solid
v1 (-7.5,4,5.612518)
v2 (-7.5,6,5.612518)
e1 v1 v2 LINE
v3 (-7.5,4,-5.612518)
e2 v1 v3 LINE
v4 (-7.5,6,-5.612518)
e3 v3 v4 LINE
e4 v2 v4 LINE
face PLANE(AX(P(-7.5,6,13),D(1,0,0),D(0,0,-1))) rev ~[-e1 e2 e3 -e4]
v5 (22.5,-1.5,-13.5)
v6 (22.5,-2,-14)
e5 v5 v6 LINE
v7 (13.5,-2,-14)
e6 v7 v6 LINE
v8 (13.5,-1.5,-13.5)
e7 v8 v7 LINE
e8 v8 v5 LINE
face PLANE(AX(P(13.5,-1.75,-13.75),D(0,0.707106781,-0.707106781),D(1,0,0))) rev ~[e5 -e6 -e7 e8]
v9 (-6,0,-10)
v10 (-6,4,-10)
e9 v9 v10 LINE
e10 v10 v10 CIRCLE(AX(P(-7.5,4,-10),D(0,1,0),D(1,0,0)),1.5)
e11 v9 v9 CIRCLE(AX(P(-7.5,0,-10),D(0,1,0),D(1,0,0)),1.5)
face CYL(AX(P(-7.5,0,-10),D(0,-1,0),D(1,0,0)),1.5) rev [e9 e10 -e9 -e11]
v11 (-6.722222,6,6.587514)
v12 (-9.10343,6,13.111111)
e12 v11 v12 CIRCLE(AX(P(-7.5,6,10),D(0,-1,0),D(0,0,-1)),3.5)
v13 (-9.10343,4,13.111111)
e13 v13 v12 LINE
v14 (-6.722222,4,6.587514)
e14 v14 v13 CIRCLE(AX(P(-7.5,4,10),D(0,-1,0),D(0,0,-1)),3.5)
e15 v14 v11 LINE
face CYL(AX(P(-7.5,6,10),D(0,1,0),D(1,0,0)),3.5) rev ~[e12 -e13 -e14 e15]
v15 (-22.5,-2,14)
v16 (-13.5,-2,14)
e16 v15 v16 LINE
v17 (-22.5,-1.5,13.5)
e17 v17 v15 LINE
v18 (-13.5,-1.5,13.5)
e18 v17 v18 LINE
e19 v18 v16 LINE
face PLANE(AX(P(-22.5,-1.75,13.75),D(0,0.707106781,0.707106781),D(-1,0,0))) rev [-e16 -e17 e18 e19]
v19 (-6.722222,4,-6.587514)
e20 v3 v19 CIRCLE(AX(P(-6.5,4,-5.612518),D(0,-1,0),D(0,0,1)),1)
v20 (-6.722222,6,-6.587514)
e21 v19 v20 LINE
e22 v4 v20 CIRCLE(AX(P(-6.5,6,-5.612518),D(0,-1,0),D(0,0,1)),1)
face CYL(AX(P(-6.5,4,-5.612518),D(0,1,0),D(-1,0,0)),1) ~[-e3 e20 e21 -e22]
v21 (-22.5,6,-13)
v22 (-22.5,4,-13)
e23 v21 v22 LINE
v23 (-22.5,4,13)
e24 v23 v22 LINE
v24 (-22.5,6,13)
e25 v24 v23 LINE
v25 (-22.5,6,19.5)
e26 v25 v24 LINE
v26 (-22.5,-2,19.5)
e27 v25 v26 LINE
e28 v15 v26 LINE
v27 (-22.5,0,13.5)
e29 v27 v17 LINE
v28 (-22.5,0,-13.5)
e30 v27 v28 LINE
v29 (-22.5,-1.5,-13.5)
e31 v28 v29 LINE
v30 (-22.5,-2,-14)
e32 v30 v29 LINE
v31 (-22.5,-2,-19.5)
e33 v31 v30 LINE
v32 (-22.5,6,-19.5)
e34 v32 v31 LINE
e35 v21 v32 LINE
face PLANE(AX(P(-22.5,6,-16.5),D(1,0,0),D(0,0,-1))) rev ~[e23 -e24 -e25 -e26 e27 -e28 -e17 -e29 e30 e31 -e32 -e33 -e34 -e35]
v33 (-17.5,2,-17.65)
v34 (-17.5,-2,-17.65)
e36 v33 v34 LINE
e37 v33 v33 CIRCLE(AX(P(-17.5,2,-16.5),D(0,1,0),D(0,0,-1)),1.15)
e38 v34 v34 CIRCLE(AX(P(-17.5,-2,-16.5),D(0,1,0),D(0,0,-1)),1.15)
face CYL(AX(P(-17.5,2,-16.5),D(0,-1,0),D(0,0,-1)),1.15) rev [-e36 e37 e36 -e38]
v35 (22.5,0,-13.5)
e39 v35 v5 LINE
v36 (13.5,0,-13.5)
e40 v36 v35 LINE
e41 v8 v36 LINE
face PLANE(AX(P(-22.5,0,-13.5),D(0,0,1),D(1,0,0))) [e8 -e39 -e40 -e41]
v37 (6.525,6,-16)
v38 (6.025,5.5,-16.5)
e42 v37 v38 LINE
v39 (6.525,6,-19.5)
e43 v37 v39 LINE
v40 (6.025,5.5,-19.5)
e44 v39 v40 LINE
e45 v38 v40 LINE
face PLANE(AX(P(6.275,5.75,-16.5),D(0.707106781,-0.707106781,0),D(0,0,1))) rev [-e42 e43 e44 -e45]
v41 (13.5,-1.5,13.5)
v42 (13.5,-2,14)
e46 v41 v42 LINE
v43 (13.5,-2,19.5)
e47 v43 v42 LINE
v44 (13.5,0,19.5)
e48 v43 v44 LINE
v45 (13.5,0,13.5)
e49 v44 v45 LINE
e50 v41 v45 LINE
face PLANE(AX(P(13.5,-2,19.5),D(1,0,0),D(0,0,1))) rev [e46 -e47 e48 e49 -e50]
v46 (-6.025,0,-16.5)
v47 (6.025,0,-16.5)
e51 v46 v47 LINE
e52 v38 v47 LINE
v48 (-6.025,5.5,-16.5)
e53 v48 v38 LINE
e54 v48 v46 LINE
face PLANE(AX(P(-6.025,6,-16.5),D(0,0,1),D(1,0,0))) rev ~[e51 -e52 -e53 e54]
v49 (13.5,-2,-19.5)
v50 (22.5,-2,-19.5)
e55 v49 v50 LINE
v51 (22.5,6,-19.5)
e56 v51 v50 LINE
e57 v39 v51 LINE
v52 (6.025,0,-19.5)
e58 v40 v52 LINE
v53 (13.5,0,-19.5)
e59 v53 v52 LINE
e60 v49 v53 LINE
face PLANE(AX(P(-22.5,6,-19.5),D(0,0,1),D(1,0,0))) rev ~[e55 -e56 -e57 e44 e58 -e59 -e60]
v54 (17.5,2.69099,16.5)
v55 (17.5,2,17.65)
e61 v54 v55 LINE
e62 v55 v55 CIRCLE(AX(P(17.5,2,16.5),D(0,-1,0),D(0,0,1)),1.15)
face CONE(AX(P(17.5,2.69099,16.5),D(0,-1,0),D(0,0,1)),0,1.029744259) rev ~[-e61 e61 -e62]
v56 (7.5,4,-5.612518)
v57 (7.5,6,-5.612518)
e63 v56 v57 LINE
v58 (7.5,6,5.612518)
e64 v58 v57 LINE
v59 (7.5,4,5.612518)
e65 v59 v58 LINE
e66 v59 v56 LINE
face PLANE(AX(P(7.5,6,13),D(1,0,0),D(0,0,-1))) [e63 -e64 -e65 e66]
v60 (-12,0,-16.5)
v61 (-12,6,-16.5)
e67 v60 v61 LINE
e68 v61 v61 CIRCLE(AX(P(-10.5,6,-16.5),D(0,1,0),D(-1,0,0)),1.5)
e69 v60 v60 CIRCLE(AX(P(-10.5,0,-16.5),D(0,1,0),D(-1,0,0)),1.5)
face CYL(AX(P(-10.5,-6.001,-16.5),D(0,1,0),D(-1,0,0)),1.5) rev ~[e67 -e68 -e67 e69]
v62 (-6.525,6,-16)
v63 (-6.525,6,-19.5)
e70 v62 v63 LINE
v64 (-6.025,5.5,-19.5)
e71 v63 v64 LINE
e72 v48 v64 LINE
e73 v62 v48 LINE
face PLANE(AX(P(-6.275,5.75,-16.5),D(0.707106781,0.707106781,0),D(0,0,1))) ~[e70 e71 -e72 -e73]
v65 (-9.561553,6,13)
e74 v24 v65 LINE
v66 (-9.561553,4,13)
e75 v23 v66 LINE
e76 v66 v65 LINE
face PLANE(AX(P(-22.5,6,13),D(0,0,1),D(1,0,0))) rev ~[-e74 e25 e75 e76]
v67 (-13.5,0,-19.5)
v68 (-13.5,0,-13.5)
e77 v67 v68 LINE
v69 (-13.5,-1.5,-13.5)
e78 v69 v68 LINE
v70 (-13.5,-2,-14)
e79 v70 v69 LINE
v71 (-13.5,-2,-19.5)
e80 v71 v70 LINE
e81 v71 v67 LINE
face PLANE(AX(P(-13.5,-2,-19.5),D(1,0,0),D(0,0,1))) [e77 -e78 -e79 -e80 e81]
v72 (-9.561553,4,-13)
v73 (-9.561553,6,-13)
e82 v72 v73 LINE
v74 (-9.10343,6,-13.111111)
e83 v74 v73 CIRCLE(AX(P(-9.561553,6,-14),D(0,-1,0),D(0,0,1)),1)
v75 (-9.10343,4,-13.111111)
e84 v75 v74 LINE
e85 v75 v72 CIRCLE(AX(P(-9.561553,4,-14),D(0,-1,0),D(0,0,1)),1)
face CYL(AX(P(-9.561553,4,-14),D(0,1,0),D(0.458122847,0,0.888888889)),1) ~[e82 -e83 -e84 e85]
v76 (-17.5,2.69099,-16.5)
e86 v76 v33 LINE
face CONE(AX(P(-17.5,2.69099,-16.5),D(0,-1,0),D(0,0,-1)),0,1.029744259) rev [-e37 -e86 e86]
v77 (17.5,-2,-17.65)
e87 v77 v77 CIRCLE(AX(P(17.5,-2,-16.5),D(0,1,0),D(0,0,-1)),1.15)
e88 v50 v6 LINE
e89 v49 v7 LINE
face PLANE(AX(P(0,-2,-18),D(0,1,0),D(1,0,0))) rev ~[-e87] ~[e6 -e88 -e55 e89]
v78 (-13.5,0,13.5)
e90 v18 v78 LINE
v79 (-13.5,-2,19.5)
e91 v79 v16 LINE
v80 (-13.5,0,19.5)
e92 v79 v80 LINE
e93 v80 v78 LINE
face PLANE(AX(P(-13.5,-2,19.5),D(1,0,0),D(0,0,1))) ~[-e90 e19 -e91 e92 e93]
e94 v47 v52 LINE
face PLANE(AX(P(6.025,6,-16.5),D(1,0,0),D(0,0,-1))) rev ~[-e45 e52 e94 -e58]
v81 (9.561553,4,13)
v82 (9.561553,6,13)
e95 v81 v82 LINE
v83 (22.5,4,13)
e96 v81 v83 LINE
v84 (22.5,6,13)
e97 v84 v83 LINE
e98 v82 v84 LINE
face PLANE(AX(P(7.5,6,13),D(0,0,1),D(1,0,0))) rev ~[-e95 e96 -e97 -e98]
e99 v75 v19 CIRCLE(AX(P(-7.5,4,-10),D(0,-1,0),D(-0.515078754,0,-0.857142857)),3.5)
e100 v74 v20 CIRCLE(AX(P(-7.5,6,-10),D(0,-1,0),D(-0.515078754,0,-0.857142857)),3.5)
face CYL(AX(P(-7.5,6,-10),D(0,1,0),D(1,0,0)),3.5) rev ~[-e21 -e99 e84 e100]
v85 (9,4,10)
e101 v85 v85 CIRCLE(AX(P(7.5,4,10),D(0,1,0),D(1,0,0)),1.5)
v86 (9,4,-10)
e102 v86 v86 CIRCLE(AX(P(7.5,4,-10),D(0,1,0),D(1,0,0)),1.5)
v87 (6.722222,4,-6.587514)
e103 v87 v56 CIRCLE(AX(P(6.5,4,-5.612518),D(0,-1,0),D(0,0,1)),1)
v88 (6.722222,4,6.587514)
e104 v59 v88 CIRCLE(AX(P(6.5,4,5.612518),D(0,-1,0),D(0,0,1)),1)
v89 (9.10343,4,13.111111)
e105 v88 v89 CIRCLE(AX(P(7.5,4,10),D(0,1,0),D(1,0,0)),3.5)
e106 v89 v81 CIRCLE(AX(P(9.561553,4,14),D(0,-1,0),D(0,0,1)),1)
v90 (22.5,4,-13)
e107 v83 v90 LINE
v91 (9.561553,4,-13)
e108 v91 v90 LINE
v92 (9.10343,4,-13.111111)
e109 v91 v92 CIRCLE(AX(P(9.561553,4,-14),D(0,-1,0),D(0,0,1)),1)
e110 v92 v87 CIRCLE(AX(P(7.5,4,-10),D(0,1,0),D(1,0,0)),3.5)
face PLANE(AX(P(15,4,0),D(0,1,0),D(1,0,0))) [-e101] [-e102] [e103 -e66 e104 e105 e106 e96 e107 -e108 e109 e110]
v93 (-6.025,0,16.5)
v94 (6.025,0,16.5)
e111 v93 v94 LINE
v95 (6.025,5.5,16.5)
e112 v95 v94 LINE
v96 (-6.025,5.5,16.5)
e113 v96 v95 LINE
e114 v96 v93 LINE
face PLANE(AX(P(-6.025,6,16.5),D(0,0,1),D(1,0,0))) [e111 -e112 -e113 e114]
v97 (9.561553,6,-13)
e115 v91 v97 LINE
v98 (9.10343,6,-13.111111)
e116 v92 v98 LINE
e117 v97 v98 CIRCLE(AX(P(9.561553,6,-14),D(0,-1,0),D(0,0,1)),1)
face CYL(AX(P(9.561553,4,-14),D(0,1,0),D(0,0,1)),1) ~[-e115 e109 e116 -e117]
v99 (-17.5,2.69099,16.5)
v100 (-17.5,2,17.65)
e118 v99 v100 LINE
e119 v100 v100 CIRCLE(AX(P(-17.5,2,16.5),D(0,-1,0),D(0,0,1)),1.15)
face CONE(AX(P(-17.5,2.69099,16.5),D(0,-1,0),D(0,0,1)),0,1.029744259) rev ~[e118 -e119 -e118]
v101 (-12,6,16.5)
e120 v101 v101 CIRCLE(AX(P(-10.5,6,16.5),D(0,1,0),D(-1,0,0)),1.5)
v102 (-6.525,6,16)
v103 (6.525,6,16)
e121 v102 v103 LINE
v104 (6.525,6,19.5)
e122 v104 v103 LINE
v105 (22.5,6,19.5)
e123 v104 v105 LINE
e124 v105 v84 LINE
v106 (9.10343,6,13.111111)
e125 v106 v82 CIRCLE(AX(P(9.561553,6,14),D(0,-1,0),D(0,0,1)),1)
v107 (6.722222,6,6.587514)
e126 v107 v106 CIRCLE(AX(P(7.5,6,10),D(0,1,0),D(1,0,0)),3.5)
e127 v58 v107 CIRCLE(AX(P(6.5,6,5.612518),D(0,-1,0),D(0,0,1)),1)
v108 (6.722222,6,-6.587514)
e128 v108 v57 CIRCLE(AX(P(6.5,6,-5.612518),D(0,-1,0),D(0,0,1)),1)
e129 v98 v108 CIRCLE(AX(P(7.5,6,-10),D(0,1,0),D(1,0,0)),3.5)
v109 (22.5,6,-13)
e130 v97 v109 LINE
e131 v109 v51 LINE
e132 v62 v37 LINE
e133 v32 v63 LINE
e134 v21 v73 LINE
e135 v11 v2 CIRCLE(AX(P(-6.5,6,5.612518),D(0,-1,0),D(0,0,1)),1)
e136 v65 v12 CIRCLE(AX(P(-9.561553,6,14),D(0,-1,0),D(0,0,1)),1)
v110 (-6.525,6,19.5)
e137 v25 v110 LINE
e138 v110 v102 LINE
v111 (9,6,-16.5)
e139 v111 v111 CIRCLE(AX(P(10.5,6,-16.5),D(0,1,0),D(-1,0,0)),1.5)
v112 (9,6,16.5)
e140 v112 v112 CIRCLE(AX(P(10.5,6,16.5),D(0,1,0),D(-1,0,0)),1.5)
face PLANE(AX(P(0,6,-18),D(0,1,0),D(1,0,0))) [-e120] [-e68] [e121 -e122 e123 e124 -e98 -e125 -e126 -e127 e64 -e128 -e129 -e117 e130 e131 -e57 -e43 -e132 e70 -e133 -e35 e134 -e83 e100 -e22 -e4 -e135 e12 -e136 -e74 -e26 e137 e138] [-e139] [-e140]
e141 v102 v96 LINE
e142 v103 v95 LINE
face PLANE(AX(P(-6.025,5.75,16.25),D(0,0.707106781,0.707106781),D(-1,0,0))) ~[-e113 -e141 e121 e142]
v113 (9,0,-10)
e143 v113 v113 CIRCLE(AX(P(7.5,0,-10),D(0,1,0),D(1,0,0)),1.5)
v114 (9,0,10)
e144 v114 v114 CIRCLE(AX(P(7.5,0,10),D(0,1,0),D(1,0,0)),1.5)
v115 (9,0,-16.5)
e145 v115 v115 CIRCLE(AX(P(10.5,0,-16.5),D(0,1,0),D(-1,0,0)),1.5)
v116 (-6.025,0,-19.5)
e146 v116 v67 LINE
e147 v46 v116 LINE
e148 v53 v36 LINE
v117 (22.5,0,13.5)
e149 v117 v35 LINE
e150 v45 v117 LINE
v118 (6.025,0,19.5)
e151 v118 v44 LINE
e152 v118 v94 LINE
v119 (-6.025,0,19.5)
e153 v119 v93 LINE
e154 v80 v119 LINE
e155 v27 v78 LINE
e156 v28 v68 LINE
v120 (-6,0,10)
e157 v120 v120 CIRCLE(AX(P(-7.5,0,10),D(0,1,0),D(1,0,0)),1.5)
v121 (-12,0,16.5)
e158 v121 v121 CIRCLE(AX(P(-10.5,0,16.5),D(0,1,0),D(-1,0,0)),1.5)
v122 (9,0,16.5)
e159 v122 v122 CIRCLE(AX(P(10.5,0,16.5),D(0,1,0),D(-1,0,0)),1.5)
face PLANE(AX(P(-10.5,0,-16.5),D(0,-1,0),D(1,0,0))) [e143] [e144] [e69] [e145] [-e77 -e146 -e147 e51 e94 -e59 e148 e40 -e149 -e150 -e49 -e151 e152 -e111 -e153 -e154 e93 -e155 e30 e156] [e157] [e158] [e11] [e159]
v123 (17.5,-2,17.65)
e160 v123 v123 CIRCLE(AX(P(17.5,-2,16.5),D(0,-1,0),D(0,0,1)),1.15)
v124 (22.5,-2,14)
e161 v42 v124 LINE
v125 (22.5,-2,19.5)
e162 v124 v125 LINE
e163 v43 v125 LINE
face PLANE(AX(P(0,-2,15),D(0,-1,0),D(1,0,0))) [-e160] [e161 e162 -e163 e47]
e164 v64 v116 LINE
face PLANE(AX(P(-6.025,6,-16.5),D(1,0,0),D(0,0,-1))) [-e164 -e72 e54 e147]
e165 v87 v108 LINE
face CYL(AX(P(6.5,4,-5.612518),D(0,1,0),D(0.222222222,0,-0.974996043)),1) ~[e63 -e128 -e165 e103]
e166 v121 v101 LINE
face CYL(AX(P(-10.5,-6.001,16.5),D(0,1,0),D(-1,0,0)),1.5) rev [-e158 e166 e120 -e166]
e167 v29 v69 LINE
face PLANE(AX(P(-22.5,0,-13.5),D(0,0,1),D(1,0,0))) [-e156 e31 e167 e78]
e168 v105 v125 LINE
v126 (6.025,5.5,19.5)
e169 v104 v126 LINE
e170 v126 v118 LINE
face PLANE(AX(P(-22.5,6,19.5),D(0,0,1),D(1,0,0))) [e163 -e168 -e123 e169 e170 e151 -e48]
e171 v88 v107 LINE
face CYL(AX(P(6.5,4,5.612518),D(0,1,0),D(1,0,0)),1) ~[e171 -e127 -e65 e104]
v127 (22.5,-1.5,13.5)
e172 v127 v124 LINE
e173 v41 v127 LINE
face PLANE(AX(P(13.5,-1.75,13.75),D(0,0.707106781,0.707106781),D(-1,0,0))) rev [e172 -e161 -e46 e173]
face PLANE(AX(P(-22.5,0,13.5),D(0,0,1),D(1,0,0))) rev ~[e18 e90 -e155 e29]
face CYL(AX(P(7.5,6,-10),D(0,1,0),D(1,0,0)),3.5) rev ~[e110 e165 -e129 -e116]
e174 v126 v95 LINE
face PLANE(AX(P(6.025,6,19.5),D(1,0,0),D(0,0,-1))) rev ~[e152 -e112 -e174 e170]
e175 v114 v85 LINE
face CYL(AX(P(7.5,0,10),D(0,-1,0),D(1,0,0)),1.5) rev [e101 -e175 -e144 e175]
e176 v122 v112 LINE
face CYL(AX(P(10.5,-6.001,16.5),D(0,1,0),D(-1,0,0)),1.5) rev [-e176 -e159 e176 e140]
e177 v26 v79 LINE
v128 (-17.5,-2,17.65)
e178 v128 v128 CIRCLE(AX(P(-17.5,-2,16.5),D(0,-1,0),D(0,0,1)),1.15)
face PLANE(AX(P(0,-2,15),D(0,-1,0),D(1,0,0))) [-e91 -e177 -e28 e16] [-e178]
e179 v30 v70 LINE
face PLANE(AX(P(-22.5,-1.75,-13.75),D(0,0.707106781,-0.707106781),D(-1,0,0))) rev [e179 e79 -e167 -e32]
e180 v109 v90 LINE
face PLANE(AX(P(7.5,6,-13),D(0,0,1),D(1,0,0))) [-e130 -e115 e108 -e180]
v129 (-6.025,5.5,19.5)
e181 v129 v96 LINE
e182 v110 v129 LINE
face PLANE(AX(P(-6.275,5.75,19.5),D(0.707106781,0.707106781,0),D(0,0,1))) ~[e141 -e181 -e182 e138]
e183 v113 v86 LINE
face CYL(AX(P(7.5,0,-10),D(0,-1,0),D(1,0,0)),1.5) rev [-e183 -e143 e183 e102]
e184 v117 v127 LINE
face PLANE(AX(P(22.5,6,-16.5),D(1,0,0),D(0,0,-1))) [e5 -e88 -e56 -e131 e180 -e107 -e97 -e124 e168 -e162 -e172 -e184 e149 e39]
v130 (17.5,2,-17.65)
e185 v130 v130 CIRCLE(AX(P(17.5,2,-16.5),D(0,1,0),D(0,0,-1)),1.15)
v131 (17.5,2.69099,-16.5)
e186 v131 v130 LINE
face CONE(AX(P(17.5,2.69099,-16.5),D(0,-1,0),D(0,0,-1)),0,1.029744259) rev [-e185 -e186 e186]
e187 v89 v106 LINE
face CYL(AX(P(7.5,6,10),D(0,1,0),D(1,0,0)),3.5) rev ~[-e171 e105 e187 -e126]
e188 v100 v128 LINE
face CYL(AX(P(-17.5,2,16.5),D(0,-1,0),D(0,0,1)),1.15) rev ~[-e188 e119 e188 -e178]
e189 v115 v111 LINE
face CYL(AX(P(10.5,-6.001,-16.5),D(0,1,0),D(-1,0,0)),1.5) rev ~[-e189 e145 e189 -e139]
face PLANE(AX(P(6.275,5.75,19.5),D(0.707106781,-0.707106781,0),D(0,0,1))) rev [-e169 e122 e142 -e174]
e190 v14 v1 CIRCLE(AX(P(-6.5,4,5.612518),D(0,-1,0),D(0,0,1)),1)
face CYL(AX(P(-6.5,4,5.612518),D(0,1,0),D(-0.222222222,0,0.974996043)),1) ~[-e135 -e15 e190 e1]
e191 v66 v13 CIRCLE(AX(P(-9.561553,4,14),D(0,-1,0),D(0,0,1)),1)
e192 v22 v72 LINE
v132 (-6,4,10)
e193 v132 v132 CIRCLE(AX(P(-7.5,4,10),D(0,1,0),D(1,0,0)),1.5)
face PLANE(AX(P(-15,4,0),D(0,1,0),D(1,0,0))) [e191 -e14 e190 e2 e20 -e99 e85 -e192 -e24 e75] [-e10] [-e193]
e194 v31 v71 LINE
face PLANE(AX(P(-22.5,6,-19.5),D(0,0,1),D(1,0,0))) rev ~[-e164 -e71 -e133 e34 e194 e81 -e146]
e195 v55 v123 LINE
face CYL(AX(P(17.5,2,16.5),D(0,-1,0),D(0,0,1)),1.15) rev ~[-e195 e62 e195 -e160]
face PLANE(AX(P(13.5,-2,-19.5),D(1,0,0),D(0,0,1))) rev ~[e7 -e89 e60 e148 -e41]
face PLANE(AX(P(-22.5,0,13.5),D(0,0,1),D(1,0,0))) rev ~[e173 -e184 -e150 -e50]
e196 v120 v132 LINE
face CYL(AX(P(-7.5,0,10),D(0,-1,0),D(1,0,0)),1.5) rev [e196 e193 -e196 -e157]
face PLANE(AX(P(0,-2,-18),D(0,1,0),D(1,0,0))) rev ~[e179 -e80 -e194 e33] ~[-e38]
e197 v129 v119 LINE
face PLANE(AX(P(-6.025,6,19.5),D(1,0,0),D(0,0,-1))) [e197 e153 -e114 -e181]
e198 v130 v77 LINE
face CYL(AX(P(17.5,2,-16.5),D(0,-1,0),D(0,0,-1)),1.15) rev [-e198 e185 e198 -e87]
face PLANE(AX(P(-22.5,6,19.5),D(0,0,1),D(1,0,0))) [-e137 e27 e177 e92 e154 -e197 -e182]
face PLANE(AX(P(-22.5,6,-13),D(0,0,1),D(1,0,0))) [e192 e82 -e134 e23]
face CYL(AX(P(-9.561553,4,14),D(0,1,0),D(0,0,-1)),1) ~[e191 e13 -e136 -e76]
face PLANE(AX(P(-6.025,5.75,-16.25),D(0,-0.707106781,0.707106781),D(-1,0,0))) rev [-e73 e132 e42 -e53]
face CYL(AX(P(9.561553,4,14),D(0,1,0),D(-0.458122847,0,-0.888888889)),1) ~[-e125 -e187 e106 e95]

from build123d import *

# Parameters (mm, degrees)
SKETCH_2_W                = 45
SKETCH_2_H                = 33
SKETCH_2_R                = 1.5
EXTRUDE_1_DEPTH           = 6
SKETCH_3_W                = 45
SKETCH_3_H                = 3
EXTRUDE_2_DEPTH           = 2
SKETCH_4_R                = 3.5
CUT_EXTRUDE_1_DEPTH       = 2
SKETCH_11_W               = 45
SKETCH_11_H               = 3
EXTRUDE_4_DEPTH           = 8
CUT_EXTRUDE_2_REACH       = 10
SKETCH_9_W                = 12.05
SKETCH_9_H                = 3
CHAMFER_1_SIZE            = 0.5
SKETCH_19_W               = 6
SKETCH_19_H               = 6
CUT_EXTRUDE_4_DEPTH       = 2
HOLE_WIZARD_3_0_3_1_D     = 3
HOLE_WIZARD_3_0_3_1_DEPTH = 6.001
CHAMFER_2_SIZE            = 0.5
SKETCH_20_W               = 15
SKETCH_20_H               = 26
CUT_EXTRUDE_5_DEPTH       = 2
FILLET_1_R                = 1
SKETCH_22_W               = 15
SKETCH_22_H               = 6
CUT_EXTRUDE_6_DEPTH       = 2


with BuildPart() as part:
    # 草图2 → 凸台-拉伸1 (new body)
    with BuildSketch(Plane(origin=(0, 0, 0), x_dir=(1, 0, 0), z_dir=(0, 1, 0))):
        Rectangle(SKETCH_2_W, SKETCH_2_H)
        with Locations((-7.5, 10)):
            Circle(SKETCH_2_R, mode=Mode.SUBTRACT)
        with Locations((7.5, 10)):
            Circle(SKETCH_2_R, mode=Mode.SUBTRACT)
        with Locations((-7.5, -10)):
            Circle(SKETCH_2_R, mode=Mode.SUBTRACT)
        with Locations((7.5, -10)):
            Circle(SKETCH_2_R, mode=Mode.SUBTRACT)
    extrude(amount=EXTRUDE_1_DEPTH)

    # 草图3 → 凸台-拉伸2 (add)
    with BuildSketch(Plane.XZ):
        with Locations((0, -15)):
            Rectangle(SKETCH_3_W, SKETCH_3_H)
        with Locations((0, 15)):
            Rectangle(SKETCH_3_W, SKETCH_3_H)
    extrude(amount=EXTRUDE_2_DEPTH)

    # 草图4 → 切除-拉伸1 (cut)
    with BuildSketch(Plane(origin=(0, 6, 0), x_dir=(1, 0, 0), z_dir=(0, 1, 0))):
        with Locations((-7.5, 10)):
            Circle(SKETCH_4_R)
        with Locations((7.5, 10)):
            Circle(SKETCH_4_R)
        with Locations((7.5, -10)):
            Circle(SKETCH_4_R)
        with Locations((-7.5, -10)):
            Circle(SKETCH_4_R)
    extrude(amount=-CUT_EXTRUDE_1_DEPTH, mode=Mode.SUBTRACT)

    # 草图11 → 凸台-拉伸4 (add)
    with BuildSketch(Plane(origin=(0, 6, 0), x_dir=(1, 0, 0), z_dir=(0, 1, 0))):
        with Locations((0, 18)):
            Rectangle(SKETCH_11_W, SKETCH_11_H)
        with Locations((0, -18)):
            Rectangle(SKETCH_11_W, SKETCH_11_H)
    extrude(amount=-EXTRUDE_4_DEPTH)

    # 草图9 → 切除-拉伸2 (cut, up to next)
    with BuildSketch(Plane(origin=(0, 6, 0), x_dir=(1, 0, 0), z_dir=(0, 1, 0)), mode=Mode.PRIVATE) as cut_extrude_2_sk1:
        with Locations((0, 18)):
            Rectangle(SKETCH_9_W, SKETCH_9_H)
    cut_extrude_2_tool1 = extrude(cut_extrude_2_sk1.sketch, amount=-CUT_EXTRUDE_2_REACH, mode=Mode.PRIVATE) & part.part
    add(cut_extrude_2_tool1.solids().sort_by_distance((0, 6, -18))[0], mode=Mode.SUBTRACT)
    # 草图9 → 切除-拉伸2 (cut, up to next)
    with BuildSketch(Plane(origin=(0, 6, 0), x_dir=(1, 0, 0), z_dir=(0, 1, 0)), mode=Mode.PRIVATE) as cut_extrude_2_sk2:
        with Locations((0, -18)):
            Rectangle(SKETCH_9_W, SKETCH_9_H)
    cut_extrude_2_tool2 = extrude(cut_extrude_2_sk2.sketch, amount=-CUT_EXTRUDE_2_REACH, mode=Mode.PRIVATE) & part.part
    add(cut_extrude_2_tool2.solids().sort_by_distance((0, 6, 18))[0], mode=Mode.SUBTRACT)

    # 倒角1
    chamfer_1_edges = [part.edges().sort_by_distance(p)[0] for p in [
        (-6.025, 6, -18),
        (0, 6, -16.5),
        (6.025, 6, -18),
        (6.025, 6, 18),
        (0, 6, 16.5),
        (-6.025, 6, 18),
    ]]
    chamfer(chamfer_1_edges, length=CHAMFER_1_SIZE)

    # 草图15 → M3 螺纹孔2 (revolve, cut)
    with BuildSketch(Plane(origin=(-17.5, -2, -16.5), x_dir=(0, 0, -1), z_dir=(1, 0, 0))):
        Polygon((0, 0), (0, 4.690989712), (1.15, 4), (1.15, 0), align=None)
    hole_wizard_m3_2 = revolve(axis=Axis((-17.5, -8.35, -16.5), (0, 1, 0)), mode=Mode.SUBTRACT)

    # 草图17 → M3 螺纹孔3 (revolve, cut)
    with BuildSketch(Plane(origin=(17.5, -2, -16.5), x_dir=(0, 0, -1), z_dir=(1, 0, 0))):
        Polygon((0, 0), (0, 4.690989712), (1.15, 4), (1.15, 0), align=None)
    hole_wizard_m3_3 = revolve(axis=Axis((17.5, -8.35, -16.5), (0, 1, 0)), mode=Mode.SUBTRACT)

    # 草图19 → 切除-拉伸4 (cut)
    with BuildSketch(Plane.XZ.offset(2)):
        with Locations((-10.5, -16.5)):
            Rectangle(SKETCH_19_W, SKETCH_19_H)
        with Locations((10.5, -16.5)):
            Rectangle(SKETCH_19_W, SKETCH_19_H)
    cut_extrude_4 = extrude(amount=-CUT_EXTRUDE_4_DEPTH, mode=Mode.SUBTRACT)

    # Ø3.0 (3) 直径孔1
    with Locations(Plane.XZ):
        with Locations((-10.5, -16.5), (10.5, -16.5)):
            hole_wizard_3_0_3_1 = Hole(HOLE_WIZARD_3_0_3_1_D / 2, depth=HOLE_WIZARD_3_0_3_1_DEPTH)

    # 镜向1: M3 螺纹孔2, M3 螺纹孔3, 切除-拉伸4, Ø3.0 (3) 直径孔1 across plane
    add(hole_wizard_m3_2.mirror(Plane.XY), mode=Mode.SUBTRACT)
    add(hole_wizard_m3_3.mirror(Plane.XY), mode=Mode.SUBTRACT)
    add(cut_extrude_4.mirror(Plane.XY), mode=Mode.SUBTRACT)
    add(hole_wizard_3_0_3_1.mirror(Plane.XY), mode=Mode.SUBTRACT)

    # 倒角2
    chamfer_2_edges = [part.edges().sort_by_distance(p)[0] for p in [
        (-18, -2, -13.5),
        (0, -2, -13.5),
        (0, -2, 13.5),
        (18, -2, 13.5),
        (18, -2, -13.5),
        (-18, -2, 13.5),
    ]]
    chamfer(chamfer_2_edges, length=CHAMFER_2_SIZE)

    # 草图20 → 切除-拉伸5 (cut)
    with BuildSketch(Plane(origin=(0, 6, 0), x_dir=(1, 0, 0), z_dir=(0, 1, 0))):
        with Locations((15, 0)):
            Rectangle(SKETCH_20_W, SKETCH_20_H)
        with Locations((-15, 0)):
            Rectangle(SKETCH_20_W, SKETCH_20_H)
    extrude(amount=-CUT_EXTRUDE_5_DEPTH, mode=Mode.SUBTRACT)

    # 圆角1
    fillet_1_edges = [part.edges().sort_by_distance(p)[0] for p in [
        (9.302775638, 5, 13),
        (7.5, 5, 6.5),
        (7.5, 5, -6.5),
        (9.302775638, 5, -13),
        (-9.302775638, 5, -13),
        (-7.5, 5, -6.5),
        (-7.5, 5, 6.5),
        (-9.302775638, 5, 13),
    ]]
    fillet(fillet_1_edges, radius=FILLET_1_R)

    # 草图22 → 切除-拉伸6 (cut)
    with BuildSketch(Plane.XZ.offset(2)):
        with Locations((0, 16.5)):
            Rectangle(SKETCH_22_W, SKETCH_22_H)
        with Locations((0, -16.5)):
            Rectangle(SKETCH_22_W, SKETCH_22_H)
    extrude(amount=-CUT_EXTRUDE_6_DEPTH, mode=Mode.SUBTRACT)


solid = part.part
